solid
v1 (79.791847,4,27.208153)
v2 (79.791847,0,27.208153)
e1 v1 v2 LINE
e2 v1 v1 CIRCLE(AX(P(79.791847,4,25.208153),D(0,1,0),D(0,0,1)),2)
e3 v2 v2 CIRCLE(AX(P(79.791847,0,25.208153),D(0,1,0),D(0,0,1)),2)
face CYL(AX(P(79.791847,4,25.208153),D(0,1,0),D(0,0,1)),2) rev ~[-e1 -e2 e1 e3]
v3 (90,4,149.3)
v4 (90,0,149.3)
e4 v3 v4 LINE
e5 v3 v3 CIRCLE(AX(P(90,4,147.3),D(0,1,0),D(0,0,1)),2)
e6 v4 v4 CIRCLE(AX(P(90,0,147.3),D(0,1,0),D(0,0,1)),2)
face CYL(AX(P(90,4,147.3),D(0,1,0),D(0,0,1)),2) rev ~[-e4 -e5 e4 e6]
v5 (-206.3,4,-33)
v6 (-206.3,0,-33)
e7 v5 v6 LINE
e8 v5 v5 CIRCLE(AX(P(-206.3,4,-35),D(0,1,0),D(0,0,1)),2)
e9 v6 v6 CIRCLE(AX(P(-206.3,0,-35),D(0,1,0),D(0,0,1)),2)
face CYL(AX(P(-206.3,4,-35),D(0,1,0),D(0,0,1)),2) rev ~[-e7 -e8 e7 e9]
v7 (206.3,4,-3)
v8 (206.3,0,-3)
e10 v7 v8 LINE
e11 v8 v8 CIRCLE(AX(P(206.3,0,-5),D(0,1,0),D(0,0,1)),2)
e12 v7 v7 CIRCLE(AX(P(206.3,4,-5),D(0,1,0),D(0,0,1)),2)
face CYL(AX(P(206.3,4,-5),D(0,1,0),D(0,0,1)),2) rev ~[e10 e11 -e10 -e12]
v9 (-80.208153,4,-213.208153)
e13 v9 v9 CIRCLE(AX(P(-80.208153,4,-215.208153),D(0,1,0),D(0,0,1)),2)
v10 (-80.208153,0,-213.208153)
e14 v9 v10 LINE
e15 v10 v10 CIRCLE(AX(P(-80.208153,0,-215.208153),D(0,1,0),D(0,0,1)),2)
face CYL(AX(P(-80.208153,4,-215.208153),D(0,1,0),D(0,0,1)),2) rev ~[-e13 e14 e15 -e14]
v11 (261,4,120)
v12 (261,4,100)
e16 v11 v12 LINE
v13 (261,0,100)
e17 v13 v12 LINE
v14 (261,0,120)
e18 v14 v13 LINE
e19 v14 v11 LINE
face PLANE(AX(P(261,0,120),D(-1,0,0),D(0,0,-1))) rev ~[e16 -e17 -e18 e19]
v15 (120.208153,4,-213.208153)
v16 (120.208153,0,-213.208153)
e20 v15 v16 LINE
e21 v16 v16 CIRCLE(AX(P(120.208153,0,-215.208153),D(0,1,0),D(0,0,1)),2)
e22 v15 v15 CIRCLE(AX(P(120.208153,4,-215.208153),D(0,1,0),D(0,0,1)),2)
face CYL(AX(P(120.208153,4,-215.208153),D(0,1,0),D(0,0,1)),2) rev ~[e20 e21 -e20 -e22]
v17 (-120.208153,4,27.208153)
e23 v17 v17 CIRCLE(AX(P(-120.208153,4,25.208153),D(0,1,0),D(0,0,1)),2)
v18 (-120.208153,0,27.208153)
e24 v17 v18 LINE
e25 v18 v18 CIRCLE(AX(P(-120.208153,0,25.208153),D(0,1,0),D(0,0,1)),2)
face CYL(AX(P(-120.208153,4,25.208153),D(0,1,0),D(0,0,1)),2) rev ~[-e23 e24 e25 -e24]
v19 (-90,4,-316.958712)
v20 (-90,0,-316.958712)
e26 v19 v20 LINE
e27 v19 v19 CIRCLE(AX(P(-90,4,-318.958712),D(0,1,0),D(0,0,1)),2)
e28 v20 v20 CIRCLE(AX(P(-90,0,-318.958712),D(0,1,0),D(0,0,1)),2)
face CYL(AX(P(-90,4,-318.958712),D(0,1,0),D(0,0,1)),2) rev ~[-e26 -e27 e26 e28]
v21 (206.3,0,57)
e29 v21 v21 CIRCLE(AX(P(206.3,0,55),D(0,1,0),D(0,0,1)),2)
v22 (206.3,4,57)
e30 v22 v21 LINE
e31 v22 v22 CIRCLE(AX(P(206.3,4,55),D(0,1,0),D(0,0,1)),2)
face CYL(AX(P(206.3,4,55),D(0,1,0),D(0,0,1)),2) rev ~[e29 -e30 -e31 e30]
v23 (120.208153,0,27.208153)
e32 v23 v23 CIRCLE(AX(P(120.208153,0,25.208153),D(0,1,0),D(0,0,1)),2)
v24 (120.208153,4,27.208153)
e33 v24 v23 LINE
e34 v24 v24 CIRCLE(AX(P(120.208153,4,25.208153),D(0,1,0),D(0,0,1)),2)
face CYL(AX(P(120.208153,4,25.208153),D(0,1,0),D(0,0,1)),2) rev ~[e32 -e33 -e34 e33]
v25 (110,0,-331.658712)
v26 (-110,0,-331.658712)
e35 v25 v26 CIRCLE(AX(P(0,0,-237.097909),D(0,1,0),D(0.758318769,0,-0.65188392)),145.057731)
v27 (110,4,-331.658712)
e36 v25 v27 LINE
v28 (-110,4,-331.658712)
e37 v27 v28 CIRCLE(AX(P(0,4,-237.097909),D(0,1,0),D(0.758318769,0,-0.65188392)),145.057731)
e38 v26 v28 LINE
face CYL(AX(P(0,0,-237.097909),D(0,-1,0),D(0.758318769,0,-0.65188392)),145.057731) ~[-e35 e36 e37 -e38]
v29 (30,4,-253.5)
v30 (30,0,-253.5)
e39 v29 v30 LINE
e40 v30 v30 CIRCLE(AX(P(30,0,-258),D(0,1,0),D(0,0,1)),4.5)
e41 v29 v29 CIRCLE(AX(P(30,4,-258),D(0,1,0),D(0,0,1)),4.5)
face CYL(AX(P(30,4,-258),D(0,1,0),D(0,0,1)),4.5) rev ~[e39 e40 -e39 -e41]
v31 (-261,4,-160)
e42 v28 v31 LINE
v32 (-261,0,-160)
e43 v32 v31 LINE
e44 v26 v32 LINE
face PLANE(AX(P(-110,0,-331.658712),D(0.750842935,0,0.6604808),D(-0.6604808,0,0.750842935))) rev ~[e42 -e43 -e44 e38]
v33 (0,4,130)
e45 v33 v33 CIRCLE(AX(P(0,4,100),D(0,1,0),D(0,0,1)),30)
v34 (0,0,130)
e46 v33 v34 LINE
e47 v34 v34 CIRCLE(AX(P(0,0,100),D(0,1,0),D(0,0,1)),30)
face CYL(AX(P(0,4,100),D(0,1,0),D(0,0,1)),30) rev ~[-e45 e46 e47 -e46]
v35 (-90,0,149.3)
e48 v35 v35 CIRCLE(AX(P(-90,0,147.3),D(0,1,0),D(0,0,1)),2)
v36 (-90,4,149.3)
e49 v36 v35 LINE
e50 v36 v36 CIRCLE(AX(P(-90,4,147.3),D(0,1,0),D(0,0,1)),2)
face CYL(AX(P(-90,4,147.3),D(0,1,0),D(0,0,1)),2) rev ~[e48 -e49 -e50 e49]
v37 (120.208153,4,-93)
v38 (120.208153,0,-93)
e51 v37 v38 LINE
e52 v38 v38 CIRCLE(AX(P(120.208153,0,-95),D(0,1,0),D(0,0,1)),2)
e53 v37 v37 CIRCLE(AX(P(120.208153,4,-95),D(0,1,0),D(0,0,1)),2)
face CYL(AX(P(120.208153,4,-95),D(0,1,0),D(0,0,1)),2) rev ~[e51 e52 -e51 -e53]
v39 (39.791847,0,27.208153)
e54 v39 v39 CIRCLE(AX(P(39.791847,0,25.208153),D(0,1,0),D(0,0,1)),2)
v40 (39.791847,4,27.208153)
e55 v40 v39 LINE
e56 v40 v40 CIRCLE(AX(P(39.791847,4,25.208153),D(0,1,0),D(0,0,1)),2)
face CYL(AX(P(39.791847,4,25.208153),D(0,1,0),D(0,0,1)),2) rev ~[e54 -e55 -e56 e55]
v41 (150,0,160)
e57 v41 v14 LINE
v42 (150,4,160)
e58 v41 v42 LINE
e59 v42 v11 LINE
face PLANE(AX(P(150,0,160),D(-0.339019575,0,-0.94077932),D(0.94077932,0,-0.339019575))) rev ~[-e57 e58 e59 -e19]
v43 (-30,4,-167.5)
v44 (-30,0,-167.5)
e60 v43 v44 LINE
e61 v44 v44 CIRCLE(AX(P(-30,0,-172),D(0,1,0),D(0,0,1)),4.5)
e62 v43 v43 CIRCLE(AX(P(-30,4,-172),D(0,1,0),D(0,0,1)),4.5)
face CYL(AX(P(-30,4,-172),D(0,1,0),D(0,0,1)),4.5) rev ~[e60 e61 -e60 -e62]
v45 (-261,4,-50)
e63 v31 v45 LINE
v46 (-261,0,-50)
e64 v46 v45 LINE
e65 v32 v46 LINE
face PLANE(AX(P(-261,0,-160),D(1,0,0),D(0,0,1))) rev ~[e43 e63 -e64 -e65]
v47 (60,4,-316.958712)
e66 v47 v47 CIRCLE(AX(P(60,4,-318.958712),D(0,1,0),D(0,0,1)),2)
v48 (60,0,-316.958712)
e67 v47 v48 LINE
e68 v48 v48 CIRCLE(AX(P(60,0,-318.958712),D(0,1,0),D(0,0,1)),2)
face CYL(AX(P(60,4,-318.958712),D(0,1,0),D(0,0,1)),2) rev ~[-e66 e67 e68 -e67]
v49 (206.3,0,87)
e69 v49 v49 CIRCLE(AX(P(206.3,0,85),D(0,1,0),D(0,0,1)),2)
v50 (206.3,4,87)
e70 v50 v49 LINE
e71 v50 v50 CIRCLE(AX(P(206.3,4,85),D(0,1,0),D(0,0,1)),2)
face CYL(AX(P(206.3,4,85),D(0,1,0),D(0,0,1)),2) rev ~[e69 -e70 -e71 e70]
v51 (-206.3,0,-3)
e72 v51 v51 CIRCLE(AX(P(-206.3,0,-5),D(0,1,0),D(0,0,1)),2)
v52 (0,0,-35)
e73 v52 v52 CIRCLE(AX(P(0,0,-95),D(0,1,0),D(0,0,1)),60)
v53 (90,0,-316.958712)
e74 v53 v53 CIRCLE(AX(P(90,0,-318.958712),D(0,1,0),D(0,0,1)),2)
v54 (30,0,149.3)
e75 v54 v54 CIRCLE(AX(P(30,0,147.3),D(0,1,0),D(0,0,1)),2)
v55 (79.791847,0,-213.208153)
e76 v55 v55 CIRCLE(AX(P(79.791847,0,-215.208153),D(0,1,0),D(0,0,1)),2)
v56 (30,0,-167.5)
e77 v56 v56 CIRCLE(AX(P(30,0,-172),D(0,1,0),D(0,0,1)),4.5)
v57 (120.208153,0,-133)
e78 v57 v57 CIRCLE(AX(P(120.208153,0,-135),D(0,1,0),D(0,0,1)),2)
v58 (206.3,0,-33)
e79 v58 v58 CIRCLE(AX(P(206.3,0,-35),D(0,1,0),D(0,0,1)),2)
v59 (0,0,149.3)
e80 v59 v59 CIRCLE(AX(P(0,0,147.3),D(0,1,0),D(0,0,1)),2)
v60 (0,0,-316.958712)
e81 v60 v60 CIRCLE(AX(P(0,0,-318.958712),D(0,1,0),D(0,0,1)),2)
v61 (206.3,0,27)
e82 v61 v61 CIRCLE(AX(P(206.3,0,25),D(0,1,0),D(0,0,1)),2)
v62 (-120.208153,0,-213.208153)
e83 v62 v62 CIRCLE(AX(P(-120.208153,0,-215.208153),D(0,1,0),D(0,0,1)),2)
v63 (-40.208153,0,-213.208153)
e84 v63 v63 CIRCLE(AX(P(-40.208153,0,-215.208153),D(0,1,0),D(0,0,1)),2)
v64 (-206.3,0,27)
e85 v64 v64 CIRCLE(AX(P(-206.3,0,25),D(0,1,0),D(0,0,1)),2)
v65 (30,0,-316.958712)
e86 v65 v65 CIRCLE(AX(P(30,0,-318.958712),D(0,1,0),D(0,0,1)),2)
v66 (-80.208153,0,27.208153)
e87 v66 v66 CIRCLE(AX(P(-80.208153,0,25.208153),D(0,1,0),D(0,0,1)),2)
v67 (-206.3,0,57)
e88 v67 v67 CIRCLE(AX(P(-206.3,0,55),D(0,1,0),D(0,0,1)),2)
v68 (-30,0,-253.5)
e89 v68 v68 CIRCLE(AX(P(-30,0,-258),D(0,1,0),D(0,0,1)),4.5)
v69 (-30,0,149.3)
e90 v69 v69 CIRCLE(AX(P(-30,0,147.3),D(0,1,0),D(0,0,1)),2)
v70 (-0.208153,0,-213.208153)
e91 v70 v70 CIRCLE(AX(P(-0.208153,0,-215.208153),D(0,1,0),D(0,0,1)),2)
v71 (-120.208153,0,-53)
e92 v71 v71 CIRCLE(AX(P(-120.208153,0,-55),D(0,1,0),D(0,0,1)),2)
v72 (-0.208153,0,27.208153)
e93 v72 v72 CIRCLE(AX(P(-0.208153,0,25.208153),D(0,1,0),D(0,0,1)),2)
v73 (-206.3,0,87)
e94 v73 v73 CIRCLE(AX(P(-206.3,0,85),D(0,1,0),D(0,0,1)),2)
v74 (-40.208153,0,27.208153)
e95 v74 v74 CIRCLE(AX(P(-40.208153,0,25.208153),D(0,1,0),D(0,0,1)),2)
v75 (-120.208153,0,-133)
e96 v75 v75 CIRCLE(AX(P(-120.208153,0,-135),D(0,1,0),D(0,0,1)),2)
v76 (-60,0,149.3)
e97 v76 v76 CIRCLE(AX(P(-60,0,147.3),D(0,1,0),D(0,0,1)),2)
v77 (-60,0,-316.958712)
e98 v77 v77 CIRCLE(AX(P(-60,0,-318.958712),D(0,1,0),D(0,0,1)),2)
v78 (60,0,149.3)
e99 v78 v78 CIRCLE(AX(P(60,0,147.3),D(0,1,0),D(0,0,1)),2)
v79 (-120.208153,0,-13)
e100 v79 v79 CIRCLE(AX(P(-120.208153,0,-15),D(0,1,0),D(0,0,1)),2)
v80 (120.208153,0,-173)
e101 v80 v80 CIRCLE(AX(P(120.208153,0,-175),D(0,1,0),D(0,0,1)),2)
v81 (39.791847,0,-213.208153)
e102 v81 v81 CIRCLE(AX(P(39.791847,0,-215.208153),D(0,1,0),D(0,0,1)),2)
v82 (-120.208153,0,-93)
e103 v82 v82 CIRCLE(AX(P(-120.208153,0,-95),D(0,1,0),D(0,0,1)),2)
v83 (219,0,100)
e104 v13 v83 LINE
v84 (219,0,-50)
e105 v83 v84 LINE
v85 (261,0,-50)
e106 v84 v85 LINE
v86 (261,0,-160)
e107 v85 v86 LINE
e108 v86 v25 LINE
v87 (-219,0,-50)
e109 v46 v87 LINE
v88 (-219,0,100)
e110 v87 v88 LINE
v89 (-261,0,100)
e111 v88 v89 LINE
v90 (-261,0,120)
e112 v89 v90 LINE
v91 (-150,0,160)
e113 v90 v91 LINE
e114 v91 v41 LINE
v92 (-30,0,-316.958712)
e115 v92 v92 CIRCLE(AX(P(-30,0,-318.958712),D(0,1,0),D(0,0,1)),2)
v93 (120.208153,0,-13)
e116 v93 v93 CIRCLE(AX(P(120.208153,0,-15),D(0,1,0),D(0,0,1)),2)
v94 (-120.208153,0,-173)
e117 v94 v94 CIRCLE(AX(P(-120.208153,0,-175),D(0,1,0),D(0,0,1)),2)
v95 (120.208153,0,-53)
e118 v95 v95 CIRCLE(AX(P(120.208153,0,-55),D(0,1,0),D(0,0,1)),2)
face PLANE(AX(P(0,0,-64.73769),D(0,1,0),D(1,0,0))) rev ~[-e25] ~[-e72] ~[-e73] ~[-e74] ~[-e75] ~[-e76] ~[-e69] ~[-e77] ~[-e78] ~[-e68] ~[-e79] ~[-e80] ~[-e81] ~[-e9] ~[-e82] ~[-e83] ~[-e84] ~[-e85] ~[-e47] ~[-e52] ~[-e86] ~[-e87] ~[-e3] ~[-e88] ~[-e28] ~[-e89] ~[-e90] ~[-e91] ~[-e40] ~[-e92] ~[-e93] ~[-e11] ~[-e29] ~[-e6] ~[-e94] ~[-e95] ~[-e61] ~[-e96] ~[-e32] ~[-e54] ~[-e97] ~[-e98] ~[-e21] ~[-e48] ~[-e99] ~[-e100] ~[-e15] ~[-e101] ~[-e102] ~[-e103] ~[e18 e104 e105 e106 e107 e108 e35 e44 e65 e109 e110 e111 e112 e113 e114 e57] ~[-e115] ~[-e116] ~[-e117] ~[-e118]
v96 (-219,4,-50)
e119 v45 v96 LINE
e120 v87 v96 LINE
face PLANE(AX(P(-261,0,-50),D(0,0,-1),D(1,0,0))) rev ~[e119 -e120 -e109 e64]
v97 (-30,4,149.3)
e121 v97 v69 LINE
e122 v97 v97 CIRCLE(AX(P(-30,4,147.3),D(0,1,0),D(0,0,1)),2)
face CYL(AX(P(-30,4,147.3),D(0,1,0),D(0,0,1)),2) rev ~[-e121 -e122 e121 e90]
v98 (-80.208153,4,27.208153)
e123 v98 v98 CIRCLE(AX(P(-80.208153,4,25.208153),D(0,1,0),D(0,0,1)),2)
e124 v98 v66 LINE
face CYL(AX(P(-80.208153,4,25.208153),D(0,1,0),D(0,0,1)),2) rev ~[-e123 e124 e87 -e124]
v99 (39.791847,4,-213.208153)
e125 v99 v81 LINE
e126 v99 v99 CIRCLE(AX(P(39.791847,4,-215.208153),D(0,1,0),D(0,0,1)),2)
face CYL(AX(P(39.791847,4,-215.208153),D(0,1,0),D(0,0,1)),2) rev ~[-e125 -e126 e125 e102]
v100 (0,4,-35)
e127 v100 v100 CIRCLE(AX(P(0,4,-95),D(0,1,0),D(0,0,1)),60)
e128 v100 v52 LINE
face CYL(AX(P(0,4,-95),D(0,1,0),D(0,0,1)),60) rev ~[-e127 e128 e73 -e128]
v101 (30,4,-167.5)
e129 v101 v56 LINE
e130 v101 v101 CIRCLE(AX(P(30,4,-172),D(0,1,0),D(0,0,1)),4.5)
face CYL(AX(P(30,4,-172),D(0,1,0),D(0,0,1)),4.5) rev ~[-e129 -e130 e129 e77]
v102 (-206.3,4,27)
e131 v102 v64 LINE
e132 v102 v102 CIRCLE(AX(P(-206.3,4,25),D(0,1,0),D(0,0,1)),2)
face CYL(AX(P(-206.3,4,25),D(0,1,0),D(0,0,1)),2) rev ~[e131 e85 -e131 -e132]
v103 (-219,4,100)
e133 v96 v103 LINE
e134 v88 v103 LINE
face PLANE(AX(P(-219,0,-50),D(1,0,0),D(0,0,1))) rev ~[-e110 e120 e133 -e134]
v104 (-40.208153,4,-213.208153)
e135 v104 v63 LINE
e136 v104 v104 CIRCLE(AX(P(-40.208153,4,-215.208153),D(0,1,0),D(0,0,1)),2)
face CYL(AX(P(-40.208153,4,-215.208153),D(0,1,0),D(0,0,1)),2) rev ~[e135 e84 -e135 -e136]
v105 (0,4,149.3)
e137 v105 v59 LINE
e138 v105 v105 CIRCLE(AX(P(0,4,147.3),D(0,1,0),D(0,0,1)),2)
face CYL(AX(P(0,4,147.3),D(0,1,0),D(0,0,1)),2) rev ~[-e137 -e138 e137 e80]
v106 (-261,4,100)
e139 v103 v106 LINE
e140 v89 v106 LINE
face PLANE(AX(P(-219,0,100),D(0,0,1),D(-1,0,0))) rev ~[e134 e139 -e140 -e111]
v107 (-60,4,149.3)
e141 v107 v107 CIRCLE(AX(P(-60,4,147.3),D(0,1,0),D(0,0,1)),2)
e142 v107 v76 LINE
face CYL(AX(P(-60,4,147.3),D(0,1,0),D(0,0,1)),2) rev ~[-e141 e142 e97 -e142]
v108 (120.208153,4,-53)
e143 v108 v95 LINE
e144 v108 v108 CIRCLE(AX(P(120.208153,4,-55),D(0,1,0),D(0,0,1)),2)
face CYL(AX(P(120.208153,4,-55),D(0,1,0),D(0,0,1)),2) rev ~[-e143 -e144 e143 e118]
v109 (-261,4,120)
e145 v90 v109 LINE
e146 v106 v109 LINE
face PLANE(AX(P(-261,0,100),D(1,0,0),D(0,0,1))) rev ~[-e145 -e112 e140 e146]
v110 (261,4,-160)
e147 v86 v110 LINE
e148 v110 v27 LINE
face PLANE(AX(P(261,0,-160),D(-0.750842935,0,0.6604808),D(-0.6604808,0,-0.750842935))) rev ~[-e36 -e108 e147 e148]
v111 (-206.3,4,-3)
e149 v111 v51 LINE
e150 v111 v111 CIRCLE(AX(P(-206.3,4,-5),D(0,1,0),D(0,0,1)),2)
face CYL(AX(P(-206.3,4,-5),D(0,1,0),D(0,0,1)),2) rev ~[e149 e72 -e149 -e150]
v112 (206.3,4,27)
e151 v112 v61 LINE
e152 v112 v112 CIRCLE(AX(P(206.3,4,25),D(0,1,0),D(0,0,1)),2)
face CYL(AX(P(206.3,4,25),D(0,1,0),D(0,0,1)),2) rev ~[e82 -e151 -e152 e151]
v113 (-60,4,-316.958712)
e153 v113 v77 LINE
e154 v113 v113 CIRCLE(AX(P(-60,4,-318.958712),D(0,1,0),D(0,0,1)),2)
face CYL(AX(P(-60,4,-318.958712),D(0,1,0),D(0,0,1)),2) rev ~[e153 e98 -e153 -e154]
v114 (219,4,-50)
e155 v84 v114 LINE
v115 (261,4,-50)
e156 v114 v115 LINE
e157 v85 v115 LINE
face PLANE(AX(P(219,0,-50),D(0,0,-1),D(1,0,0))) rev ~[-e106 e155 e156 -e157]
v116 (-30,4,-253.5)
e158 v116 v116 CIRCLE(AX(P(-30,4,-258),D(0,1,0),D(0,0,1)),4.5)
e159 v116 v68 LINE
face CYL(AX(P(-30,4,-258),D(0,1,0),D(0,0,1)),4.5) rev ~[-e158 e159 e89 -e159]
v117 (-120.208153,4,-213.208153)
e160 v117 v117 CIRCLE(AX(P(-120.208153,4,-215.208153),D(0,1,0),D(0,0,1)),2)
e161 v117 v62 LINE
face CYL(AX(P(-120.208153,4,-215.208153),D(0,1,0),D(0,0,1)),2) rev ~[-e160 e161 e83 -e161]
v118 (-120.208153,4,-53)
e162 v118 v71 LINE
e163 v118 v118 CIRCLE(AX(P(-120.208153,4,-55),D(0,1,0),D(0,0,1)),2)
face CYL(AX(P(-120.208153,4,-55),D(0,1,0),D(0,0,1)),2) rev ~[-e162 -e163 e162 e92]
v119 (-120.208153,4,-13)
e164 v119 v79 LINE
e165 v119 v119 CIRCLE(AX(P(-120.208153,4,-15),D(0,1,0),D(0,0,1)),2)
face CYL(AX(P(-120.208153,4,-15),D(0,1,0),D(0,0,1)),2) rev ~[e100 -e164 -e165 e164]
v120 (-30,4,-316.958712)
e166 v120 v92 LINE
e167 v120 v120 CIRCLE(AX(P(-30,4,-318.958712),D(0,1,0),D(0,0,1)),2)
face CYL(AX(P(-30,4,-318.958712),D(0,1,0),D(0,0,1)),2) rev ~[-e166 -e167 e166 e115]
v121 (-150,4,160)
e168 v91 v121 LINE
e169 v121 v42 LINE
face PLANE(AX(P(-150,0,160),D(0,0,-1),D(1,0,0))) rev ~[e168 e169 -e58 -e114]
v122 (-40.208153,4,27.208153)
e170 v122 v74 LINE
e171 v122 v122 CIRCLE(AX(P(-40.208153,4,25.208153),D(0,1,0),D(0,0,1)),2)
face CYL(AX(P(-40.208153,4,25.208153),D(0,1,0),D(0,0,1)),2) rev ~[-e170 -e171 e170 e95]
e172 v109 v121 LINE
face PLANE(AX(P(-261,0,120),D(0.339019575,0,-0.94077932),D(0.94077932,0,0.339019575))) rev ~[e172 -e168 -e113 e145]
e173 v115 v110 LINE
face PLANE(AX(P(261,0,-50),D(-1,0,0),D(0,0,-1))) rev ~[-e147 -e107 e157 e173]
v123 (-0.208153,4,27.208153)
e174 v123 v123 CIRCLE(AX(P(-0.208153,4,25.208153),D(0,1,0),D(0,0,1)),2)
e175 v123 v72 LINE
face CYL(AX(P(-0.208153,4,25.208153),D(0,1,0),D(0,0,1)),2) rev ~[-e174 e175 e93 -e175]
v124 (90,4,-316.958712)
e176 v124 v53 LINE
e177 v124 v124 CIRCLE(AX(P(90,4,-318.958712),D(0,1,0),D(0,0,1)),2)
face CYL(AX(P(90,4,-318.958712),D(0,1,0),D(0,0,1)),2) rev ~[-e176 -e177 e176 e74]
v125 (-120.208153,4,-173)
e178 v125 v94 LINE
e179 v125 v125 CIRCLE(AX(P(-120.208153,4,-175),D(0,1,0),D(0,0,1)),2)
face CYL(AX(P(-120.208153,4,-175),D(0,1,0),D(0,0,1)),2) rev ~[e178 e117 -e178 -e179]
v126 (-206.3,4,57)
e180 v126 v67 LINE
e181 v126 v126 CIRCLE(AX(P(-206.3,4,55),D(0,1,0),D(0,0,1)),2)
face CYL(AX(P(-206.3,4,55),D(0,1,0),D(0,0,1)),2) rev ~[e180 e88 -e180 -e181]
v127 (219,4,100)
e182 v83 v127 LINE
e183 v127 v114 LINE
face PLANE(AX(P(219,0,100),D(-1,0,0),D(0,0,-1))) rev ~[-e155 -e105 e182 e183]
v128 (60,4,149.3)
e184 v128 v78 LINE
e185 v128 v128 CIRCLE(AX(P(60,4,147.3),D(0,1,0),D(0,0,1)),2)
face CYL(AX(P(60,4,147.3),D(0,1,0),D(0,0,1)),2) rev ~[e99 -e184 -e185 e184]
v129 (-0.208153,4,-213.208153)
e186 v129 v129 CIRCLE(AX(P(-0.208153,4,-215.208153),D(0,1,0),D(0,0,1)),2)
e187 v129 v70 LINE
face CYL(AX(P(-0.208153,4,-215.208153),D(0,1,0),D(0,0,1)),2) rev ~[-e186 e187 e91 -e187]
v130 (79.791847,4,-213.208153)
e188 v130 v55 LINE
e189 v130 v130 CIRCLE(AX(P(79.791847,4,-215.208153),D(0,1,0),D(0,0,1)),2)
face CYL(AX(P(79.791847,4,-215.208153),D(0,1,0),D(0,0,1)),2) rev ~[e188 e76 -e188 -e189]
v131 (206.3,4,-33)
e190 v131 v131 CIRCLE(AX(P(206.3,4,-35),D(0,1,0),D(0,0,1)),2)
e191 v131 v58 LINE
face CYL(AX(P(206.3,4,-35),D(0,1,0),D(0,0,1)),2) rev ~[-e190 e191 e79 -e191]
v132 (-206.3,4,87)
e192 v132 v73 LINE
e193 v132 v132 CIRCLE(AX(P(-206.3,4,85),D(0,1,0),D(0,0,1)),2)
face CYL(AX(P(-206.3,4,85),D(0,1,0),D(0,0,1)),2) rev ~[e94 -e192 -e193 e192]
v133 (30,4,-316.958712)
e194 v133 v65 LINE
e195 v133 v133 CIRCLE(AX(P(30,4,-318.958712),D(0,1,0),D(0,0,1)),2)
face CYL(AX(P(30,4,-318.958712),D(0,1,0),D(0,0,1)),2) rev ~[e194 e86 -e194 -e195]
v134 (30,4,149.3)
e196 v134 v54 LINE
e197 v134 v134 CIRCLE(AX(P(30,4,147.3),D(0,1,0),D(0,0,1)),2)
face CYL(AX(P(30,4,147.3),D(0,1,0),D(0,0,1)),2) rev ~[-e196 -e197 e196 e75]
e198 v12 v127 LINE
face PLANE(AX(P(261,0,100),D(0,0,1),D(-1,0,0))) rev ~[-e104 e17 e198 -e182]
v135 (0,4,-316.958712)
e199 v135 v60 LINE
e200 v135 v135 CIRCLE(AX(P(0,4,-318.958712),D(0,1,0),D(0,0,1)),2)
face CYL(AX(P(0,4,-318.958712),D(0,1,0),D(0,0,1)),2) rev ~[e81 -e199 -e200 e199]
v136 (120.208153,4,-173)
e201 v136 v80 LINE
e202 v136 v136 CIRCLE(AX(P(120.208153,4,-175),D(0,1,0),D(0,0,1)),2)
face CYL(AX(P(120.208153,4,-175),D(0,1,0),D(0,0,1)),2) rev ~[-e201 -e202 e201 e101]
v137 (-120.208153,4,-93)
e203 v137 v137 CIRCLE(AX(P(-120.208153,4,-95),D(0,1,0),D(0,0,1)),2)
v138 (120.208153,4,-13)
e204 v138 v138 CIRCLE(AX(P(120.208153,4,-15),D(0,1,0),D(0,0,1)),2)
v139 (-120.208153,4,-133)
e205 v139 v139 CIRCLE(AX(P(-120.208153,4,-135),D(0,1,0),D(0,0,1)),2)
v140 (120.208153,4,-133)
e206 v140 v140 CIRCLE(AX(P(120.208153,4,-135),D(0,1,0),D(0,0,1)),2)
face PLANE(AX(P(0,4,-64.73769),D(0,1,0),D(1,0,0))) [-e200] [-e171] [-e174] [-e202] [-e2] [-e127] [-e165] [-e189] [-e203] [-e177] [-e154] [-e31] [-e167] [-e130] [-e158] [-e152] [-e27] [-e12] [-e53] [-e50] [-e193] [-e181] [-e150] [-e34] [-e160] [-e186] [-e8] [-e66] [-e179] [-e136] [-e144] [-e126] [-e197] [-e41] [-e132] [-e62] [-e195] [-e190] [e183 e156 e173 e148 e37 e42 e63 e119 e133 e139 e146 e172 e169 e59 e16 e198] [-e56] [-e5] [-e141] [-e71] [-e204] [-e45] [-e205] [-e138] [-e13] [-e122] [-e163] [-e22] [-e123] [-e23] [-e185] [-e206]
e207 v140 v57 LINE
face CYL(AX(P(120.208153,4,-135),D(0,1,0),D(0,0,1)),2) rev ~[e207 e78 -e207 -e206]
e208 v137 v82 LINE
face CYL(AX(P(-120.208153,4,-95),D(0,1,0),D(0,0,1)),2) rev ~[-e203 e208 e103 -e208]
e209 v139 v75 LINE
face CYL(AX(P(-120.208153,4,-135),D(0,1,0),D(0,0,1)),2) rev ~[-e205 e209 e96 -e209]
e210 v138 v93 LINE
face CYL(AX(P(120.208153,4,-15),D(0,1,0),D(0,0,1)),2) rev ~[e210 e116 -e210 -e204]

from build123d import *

# Parameters (mm, degrees)
BOSS_EXTRUDE1_DEPTH = 4
SKETCH2_R           = 2
CUT_EXTRUDE1_DEPTH  = 4
SKETCH4_R           = 30
SKETCH4_R_2         = 2
SKETCH4_R_3         = 60
CUT_EXTRUDE2_DEPTH  = 4
SKETCH5_R           = 4.5
CUT_EXTRUDE3_DEPTH  = 4
SKETCH6_R           = 2
CUT_EXTRUDE4_DEPTH  = 4


with BuildPart() as part:
    # Sketch1 → Boss-Extrude1 (new body)
    with BuildSketch(Plane(origin=(0, 0, 0), x_dir=(1, 0, 0), z_dir=(0, 1, 0))):
        with BuildLine():
            Line((-219, 50), (-219, -100))
            Line((-219, -100), (-261, -100))
            Line((-261, -100), (-261, -120))
            Line((-261, -120), (-150, -160))
            Line((-150, -160), (150, -160))
            Line((150, -160), (261, -120))
            Line((261, -120), (261, -100))
            Line((261, -100), (219, -100))
            Line((219, -100), (219, 50))
            Line((219, 50), (261, 50))
            Line((261, 50), (261, 160))
            Line((261, 160), (110, 331.658711753))
            ThreePointArc((110, 331.658711753), (0, 382.155640476), (-110, 331.658711753))
            Line((-110, 331.658711753), (-261, 160))
            Line((-261, 160), (-261, 50))
            Line((-261, 50), (-219, 50))
        make_face()
    extrude(amount=BOSS_EXTRUDE1_DEPTH)

    # Sketch2 → Cut-Extrude1 (cut)
    with BuildSketch(Plane(origin=(0, 4, 0), x_dir=(1, 0, 0), z_dir=(0, 1, 0))):
        with Locations(Location((-206.3, -25, 0), (0, 0, 270))):
            Circle(SKETCH2_R)
        with Locations(Location((-206.3, 5, 0), (0, 0, 270))):
            Circle(SKETCH2_R)
        with Locations(Location((-206.3, 35, 0), (0, 0, 270))):
            Circle(SKETCH2_R)
        with Locations(Location((-206.3, -55, 0), (0, 0, 270))):
            Circle(SKETCH2_R)
        with Locations(Location((-206.3, -85, 0), (0, 0, 270))):
            Circle(SKETCH2_R)
        with Locations(Location((206.3, -85, 0), (0, 0, 270))):
            Circle(SKETCH2_R)
        with Locations(Location((206.3, -55, 0), (0, 0, 270))):
            Circle(SKETCH2_R)
        with Locations(Location((206.3, -25, 0), (0, 0, 270))):
            Circle(SKETCH2_R)
        with Locations(Location((206.3, 5, 0), (0, 0, 270))):
            Circle(SKETCH2_R)
        with Locations(Location((206.3, 35, 0), (0, 0, 270))):
            Circle(SKETCH2_R)
    extrude(amount=-CUT_EXTRUDE1_DEPTH, mode=Mode.SUBTRACT)

    # Sketch4 → Cut-Extrude2 (cut)
    with BuildSketch(Plane(origin=(0, 4, 0), x_dir=(1, 0, 0), z_dir=(0, 1, 0))):
        with Locations(Location((0, -100, 0), (0, 0, 270))):
            Circle(SKETCH4_R)
        with Locations(Location((-120.208152802, 215.208152802, 0), (0, 0, 270))):
            Circle(SKETCH4_R_2)
        with Locations(Location((0, 95, 0), (0, 0, 270))):
            Circle(SKETCH4_R_3)
        with Locations(Location((120.208152802, 215.208152802, 0), (0, 0, 270))):
            Circle(SKETCH4_R_2)
        with Locations(Location((120.208152802, -25.208152802, 0), (0, 0, 270))):
            Circle(SKETCH4_R_2)
        with Locations(Location((-120.208152802, -25.208152802, 0), (0, 0, 270))):
            Circle(SKETCH4_R_2)
        with Locations(Location((-120.208152802, 95, 0), (0, 0, 270))):
            Circle(SKETCH4_R_2)
        with Locations(Location((-120.208152802, 135, 0), (0, 0, 270))):
            Circle(SKETCH4_R_2)
        with Locations(Location((-120.208152802, 175, 0), (0, 0, 270))):
            Circle(SKETCH4_R_2)
        with Locations(Location((-120.208152802, 55, 0), (0, 0, 270))):
            Circle(SKETCH4_R_2)
        with Locations(Location((-120.208152802, 15, 0), (0, 0, 270))):
            Circle(SKETCH4_R_2)
        with Locations(Location((120.208152802, 15, 0), (0, 0, 270))):
            Circle(SKETCH4_R_2)
        with Locations(Location((120.208152802, 55, 0), (0, 0, 270))):
            Circle(SKETCH4_R_2)
        with Locations(Location((120.208152802, 95, 0), (0, 0, 270))):
            Circle(SKETCH4_R_2)
        with Locations(Location((120.208152802, 135, 0), (0, 0, 270))):
            Circle(SKETCH4_R_2)
        with Locations(Location((120.208152802, 175, 0), (0, 0, 270))):
            Circle(SKETCH4_R_2)
        with Locations(Location((-80.208152802, 215.208152802, 0), (0, 0, 270))):
            Circle(SKETCH4_R_2)
        with Locations(Location((-80.208152802, -25.208152802, 0), (0, 0, 270))):
            Circle(SKETCH4_R_2)
        with Locations(Location((-40.208152802, 215.208152802, 0), (0, 0, 270))):
            Circle(SKETCH4_R_2)
        with Locations(Location((-40.208152802, -25.208152802, 0), (0, 0, 270))):
            Circle(SKETCH4_R_2)
        with Locations(Location((-0.208152802, 215.208152802, 0), (0, 0, 270))):
            Circle(SKETCH4_R_2)
        with Locations(Location((-0.208152802, -25.208152802, 0), (0, 0, 270))):
            Circle(SKETCH4_R_2)
        with Locations(Location((39.791847198, 215.208152802, 0), (0, 0, 270))):
            Circle(SKETCH4_R_2)
        with Locations(Location((39.791847198, -25.208152802, 0), (0, 0, 270))):
            Circle(SKETCH4_R_2)
        with Locations(Location((79.791847198, 215.208152802, 0), (0, 0, 270))):
            Circle(SKETCH4_R_2)
        with Locations(Location((79.791847198, -25.208152802, 0), (0, 0, 270))):
            Circle(SKETCH4_R_2)
    extrude(amount=-CUT_EXTRUDE2_DEPTH, mode=Mode.SUBTRACT)

    # Sketch5 → Cut-Extrude3 (cut)
    with BuildSketch(Plane(origin=(0, 4, 0), x_dir=(1, 0, 0), z_dir=(0, 1, 0))):
        with Locations(Location((-30, 172, 0), (0, 0, 270))):
            Circle(SKETCH5_R)
        with Locations(Location((30, 172, 0), (0, 0, 270))):
            Circle(SKETCH5_R)
        with Locations(Location((30, 258, 0), (0, 0, 270))):
            Circle(SKETCH5_R)
        with Locations(Location((-30, 258, 0), (0, 0, 270))):
            Circle(SKETCH5_R)
    extrude(amount=-CUT_EXTRUDE3_DEPTH, mode=Mode.SUBTRACT)

    # Sketch6 → Cut-Extrude4 (cut)
    with BuildSketch(Plane(origin=(0, 4, 0), x_dir=(1, 0, 0), z_dir=(0, 1, 0))):
        with Locations(Location((0, 318.958711753, 0), (0, 0, 270))):
            Circle(SKETCH6_R)
        with Locations(Location((30, 318.958711753, 0), (0, 0, 270))):
            Circle(SKETCH6_R)
        with Locations(Location((60, 318.958711753, 0), (0, 0, 270))):
            Circle(SKETCH6_R)
        with Locations(Location((90, 318.958711753, 0), (0, 0, 270))):
            Circle(SKETCH6_R)
        with Locations(Location((-30, 318.958711753, 0), (0, 0, 270))):
            Circle(SKETCH6_R)
        with Locations(Location((-60, 318.958711753, 0), (0, 0, 270))):
            Circle(SKETCH6_R)
        with Locations(Location((-90, 318.958711753, 0), (0, 0, 270))):
            Circle(SKETCH6_R)
        with Locations(Location((0, -147.3, 0), (0, 0, 270))):
            Circle(SKETCH6_R)
        with Locations(Location((30, -147.3, 0), (0, 0, 270))):
            Circle(SKETCH6_R)
        with Locations(Location((60, -147.3, 0), (0, 0, 270))):
            Circle(SKETCH6_R)
        with Locations(Location((90, -147.3, 0), (0, 0, 270))):
            Circle(SKETCH6_R)
        with Locations(Location((-30, -147.3, 0), (0, 0, 270))):
            Circle(SKETCH6_R)
        with Locations(Location((-60, -147.3, 0), (0, 0, 270))):
            Circle(SKETCH6_R)
        with Locations(Location((-90, -147.3, 0), (0, 0, 270))):
            Circle(SKETCH6_R)
    extrude(amount=-CUT_EXTRUDE4_DEPTH, mode=Mode.SUBTRACT)


solid = part.part
